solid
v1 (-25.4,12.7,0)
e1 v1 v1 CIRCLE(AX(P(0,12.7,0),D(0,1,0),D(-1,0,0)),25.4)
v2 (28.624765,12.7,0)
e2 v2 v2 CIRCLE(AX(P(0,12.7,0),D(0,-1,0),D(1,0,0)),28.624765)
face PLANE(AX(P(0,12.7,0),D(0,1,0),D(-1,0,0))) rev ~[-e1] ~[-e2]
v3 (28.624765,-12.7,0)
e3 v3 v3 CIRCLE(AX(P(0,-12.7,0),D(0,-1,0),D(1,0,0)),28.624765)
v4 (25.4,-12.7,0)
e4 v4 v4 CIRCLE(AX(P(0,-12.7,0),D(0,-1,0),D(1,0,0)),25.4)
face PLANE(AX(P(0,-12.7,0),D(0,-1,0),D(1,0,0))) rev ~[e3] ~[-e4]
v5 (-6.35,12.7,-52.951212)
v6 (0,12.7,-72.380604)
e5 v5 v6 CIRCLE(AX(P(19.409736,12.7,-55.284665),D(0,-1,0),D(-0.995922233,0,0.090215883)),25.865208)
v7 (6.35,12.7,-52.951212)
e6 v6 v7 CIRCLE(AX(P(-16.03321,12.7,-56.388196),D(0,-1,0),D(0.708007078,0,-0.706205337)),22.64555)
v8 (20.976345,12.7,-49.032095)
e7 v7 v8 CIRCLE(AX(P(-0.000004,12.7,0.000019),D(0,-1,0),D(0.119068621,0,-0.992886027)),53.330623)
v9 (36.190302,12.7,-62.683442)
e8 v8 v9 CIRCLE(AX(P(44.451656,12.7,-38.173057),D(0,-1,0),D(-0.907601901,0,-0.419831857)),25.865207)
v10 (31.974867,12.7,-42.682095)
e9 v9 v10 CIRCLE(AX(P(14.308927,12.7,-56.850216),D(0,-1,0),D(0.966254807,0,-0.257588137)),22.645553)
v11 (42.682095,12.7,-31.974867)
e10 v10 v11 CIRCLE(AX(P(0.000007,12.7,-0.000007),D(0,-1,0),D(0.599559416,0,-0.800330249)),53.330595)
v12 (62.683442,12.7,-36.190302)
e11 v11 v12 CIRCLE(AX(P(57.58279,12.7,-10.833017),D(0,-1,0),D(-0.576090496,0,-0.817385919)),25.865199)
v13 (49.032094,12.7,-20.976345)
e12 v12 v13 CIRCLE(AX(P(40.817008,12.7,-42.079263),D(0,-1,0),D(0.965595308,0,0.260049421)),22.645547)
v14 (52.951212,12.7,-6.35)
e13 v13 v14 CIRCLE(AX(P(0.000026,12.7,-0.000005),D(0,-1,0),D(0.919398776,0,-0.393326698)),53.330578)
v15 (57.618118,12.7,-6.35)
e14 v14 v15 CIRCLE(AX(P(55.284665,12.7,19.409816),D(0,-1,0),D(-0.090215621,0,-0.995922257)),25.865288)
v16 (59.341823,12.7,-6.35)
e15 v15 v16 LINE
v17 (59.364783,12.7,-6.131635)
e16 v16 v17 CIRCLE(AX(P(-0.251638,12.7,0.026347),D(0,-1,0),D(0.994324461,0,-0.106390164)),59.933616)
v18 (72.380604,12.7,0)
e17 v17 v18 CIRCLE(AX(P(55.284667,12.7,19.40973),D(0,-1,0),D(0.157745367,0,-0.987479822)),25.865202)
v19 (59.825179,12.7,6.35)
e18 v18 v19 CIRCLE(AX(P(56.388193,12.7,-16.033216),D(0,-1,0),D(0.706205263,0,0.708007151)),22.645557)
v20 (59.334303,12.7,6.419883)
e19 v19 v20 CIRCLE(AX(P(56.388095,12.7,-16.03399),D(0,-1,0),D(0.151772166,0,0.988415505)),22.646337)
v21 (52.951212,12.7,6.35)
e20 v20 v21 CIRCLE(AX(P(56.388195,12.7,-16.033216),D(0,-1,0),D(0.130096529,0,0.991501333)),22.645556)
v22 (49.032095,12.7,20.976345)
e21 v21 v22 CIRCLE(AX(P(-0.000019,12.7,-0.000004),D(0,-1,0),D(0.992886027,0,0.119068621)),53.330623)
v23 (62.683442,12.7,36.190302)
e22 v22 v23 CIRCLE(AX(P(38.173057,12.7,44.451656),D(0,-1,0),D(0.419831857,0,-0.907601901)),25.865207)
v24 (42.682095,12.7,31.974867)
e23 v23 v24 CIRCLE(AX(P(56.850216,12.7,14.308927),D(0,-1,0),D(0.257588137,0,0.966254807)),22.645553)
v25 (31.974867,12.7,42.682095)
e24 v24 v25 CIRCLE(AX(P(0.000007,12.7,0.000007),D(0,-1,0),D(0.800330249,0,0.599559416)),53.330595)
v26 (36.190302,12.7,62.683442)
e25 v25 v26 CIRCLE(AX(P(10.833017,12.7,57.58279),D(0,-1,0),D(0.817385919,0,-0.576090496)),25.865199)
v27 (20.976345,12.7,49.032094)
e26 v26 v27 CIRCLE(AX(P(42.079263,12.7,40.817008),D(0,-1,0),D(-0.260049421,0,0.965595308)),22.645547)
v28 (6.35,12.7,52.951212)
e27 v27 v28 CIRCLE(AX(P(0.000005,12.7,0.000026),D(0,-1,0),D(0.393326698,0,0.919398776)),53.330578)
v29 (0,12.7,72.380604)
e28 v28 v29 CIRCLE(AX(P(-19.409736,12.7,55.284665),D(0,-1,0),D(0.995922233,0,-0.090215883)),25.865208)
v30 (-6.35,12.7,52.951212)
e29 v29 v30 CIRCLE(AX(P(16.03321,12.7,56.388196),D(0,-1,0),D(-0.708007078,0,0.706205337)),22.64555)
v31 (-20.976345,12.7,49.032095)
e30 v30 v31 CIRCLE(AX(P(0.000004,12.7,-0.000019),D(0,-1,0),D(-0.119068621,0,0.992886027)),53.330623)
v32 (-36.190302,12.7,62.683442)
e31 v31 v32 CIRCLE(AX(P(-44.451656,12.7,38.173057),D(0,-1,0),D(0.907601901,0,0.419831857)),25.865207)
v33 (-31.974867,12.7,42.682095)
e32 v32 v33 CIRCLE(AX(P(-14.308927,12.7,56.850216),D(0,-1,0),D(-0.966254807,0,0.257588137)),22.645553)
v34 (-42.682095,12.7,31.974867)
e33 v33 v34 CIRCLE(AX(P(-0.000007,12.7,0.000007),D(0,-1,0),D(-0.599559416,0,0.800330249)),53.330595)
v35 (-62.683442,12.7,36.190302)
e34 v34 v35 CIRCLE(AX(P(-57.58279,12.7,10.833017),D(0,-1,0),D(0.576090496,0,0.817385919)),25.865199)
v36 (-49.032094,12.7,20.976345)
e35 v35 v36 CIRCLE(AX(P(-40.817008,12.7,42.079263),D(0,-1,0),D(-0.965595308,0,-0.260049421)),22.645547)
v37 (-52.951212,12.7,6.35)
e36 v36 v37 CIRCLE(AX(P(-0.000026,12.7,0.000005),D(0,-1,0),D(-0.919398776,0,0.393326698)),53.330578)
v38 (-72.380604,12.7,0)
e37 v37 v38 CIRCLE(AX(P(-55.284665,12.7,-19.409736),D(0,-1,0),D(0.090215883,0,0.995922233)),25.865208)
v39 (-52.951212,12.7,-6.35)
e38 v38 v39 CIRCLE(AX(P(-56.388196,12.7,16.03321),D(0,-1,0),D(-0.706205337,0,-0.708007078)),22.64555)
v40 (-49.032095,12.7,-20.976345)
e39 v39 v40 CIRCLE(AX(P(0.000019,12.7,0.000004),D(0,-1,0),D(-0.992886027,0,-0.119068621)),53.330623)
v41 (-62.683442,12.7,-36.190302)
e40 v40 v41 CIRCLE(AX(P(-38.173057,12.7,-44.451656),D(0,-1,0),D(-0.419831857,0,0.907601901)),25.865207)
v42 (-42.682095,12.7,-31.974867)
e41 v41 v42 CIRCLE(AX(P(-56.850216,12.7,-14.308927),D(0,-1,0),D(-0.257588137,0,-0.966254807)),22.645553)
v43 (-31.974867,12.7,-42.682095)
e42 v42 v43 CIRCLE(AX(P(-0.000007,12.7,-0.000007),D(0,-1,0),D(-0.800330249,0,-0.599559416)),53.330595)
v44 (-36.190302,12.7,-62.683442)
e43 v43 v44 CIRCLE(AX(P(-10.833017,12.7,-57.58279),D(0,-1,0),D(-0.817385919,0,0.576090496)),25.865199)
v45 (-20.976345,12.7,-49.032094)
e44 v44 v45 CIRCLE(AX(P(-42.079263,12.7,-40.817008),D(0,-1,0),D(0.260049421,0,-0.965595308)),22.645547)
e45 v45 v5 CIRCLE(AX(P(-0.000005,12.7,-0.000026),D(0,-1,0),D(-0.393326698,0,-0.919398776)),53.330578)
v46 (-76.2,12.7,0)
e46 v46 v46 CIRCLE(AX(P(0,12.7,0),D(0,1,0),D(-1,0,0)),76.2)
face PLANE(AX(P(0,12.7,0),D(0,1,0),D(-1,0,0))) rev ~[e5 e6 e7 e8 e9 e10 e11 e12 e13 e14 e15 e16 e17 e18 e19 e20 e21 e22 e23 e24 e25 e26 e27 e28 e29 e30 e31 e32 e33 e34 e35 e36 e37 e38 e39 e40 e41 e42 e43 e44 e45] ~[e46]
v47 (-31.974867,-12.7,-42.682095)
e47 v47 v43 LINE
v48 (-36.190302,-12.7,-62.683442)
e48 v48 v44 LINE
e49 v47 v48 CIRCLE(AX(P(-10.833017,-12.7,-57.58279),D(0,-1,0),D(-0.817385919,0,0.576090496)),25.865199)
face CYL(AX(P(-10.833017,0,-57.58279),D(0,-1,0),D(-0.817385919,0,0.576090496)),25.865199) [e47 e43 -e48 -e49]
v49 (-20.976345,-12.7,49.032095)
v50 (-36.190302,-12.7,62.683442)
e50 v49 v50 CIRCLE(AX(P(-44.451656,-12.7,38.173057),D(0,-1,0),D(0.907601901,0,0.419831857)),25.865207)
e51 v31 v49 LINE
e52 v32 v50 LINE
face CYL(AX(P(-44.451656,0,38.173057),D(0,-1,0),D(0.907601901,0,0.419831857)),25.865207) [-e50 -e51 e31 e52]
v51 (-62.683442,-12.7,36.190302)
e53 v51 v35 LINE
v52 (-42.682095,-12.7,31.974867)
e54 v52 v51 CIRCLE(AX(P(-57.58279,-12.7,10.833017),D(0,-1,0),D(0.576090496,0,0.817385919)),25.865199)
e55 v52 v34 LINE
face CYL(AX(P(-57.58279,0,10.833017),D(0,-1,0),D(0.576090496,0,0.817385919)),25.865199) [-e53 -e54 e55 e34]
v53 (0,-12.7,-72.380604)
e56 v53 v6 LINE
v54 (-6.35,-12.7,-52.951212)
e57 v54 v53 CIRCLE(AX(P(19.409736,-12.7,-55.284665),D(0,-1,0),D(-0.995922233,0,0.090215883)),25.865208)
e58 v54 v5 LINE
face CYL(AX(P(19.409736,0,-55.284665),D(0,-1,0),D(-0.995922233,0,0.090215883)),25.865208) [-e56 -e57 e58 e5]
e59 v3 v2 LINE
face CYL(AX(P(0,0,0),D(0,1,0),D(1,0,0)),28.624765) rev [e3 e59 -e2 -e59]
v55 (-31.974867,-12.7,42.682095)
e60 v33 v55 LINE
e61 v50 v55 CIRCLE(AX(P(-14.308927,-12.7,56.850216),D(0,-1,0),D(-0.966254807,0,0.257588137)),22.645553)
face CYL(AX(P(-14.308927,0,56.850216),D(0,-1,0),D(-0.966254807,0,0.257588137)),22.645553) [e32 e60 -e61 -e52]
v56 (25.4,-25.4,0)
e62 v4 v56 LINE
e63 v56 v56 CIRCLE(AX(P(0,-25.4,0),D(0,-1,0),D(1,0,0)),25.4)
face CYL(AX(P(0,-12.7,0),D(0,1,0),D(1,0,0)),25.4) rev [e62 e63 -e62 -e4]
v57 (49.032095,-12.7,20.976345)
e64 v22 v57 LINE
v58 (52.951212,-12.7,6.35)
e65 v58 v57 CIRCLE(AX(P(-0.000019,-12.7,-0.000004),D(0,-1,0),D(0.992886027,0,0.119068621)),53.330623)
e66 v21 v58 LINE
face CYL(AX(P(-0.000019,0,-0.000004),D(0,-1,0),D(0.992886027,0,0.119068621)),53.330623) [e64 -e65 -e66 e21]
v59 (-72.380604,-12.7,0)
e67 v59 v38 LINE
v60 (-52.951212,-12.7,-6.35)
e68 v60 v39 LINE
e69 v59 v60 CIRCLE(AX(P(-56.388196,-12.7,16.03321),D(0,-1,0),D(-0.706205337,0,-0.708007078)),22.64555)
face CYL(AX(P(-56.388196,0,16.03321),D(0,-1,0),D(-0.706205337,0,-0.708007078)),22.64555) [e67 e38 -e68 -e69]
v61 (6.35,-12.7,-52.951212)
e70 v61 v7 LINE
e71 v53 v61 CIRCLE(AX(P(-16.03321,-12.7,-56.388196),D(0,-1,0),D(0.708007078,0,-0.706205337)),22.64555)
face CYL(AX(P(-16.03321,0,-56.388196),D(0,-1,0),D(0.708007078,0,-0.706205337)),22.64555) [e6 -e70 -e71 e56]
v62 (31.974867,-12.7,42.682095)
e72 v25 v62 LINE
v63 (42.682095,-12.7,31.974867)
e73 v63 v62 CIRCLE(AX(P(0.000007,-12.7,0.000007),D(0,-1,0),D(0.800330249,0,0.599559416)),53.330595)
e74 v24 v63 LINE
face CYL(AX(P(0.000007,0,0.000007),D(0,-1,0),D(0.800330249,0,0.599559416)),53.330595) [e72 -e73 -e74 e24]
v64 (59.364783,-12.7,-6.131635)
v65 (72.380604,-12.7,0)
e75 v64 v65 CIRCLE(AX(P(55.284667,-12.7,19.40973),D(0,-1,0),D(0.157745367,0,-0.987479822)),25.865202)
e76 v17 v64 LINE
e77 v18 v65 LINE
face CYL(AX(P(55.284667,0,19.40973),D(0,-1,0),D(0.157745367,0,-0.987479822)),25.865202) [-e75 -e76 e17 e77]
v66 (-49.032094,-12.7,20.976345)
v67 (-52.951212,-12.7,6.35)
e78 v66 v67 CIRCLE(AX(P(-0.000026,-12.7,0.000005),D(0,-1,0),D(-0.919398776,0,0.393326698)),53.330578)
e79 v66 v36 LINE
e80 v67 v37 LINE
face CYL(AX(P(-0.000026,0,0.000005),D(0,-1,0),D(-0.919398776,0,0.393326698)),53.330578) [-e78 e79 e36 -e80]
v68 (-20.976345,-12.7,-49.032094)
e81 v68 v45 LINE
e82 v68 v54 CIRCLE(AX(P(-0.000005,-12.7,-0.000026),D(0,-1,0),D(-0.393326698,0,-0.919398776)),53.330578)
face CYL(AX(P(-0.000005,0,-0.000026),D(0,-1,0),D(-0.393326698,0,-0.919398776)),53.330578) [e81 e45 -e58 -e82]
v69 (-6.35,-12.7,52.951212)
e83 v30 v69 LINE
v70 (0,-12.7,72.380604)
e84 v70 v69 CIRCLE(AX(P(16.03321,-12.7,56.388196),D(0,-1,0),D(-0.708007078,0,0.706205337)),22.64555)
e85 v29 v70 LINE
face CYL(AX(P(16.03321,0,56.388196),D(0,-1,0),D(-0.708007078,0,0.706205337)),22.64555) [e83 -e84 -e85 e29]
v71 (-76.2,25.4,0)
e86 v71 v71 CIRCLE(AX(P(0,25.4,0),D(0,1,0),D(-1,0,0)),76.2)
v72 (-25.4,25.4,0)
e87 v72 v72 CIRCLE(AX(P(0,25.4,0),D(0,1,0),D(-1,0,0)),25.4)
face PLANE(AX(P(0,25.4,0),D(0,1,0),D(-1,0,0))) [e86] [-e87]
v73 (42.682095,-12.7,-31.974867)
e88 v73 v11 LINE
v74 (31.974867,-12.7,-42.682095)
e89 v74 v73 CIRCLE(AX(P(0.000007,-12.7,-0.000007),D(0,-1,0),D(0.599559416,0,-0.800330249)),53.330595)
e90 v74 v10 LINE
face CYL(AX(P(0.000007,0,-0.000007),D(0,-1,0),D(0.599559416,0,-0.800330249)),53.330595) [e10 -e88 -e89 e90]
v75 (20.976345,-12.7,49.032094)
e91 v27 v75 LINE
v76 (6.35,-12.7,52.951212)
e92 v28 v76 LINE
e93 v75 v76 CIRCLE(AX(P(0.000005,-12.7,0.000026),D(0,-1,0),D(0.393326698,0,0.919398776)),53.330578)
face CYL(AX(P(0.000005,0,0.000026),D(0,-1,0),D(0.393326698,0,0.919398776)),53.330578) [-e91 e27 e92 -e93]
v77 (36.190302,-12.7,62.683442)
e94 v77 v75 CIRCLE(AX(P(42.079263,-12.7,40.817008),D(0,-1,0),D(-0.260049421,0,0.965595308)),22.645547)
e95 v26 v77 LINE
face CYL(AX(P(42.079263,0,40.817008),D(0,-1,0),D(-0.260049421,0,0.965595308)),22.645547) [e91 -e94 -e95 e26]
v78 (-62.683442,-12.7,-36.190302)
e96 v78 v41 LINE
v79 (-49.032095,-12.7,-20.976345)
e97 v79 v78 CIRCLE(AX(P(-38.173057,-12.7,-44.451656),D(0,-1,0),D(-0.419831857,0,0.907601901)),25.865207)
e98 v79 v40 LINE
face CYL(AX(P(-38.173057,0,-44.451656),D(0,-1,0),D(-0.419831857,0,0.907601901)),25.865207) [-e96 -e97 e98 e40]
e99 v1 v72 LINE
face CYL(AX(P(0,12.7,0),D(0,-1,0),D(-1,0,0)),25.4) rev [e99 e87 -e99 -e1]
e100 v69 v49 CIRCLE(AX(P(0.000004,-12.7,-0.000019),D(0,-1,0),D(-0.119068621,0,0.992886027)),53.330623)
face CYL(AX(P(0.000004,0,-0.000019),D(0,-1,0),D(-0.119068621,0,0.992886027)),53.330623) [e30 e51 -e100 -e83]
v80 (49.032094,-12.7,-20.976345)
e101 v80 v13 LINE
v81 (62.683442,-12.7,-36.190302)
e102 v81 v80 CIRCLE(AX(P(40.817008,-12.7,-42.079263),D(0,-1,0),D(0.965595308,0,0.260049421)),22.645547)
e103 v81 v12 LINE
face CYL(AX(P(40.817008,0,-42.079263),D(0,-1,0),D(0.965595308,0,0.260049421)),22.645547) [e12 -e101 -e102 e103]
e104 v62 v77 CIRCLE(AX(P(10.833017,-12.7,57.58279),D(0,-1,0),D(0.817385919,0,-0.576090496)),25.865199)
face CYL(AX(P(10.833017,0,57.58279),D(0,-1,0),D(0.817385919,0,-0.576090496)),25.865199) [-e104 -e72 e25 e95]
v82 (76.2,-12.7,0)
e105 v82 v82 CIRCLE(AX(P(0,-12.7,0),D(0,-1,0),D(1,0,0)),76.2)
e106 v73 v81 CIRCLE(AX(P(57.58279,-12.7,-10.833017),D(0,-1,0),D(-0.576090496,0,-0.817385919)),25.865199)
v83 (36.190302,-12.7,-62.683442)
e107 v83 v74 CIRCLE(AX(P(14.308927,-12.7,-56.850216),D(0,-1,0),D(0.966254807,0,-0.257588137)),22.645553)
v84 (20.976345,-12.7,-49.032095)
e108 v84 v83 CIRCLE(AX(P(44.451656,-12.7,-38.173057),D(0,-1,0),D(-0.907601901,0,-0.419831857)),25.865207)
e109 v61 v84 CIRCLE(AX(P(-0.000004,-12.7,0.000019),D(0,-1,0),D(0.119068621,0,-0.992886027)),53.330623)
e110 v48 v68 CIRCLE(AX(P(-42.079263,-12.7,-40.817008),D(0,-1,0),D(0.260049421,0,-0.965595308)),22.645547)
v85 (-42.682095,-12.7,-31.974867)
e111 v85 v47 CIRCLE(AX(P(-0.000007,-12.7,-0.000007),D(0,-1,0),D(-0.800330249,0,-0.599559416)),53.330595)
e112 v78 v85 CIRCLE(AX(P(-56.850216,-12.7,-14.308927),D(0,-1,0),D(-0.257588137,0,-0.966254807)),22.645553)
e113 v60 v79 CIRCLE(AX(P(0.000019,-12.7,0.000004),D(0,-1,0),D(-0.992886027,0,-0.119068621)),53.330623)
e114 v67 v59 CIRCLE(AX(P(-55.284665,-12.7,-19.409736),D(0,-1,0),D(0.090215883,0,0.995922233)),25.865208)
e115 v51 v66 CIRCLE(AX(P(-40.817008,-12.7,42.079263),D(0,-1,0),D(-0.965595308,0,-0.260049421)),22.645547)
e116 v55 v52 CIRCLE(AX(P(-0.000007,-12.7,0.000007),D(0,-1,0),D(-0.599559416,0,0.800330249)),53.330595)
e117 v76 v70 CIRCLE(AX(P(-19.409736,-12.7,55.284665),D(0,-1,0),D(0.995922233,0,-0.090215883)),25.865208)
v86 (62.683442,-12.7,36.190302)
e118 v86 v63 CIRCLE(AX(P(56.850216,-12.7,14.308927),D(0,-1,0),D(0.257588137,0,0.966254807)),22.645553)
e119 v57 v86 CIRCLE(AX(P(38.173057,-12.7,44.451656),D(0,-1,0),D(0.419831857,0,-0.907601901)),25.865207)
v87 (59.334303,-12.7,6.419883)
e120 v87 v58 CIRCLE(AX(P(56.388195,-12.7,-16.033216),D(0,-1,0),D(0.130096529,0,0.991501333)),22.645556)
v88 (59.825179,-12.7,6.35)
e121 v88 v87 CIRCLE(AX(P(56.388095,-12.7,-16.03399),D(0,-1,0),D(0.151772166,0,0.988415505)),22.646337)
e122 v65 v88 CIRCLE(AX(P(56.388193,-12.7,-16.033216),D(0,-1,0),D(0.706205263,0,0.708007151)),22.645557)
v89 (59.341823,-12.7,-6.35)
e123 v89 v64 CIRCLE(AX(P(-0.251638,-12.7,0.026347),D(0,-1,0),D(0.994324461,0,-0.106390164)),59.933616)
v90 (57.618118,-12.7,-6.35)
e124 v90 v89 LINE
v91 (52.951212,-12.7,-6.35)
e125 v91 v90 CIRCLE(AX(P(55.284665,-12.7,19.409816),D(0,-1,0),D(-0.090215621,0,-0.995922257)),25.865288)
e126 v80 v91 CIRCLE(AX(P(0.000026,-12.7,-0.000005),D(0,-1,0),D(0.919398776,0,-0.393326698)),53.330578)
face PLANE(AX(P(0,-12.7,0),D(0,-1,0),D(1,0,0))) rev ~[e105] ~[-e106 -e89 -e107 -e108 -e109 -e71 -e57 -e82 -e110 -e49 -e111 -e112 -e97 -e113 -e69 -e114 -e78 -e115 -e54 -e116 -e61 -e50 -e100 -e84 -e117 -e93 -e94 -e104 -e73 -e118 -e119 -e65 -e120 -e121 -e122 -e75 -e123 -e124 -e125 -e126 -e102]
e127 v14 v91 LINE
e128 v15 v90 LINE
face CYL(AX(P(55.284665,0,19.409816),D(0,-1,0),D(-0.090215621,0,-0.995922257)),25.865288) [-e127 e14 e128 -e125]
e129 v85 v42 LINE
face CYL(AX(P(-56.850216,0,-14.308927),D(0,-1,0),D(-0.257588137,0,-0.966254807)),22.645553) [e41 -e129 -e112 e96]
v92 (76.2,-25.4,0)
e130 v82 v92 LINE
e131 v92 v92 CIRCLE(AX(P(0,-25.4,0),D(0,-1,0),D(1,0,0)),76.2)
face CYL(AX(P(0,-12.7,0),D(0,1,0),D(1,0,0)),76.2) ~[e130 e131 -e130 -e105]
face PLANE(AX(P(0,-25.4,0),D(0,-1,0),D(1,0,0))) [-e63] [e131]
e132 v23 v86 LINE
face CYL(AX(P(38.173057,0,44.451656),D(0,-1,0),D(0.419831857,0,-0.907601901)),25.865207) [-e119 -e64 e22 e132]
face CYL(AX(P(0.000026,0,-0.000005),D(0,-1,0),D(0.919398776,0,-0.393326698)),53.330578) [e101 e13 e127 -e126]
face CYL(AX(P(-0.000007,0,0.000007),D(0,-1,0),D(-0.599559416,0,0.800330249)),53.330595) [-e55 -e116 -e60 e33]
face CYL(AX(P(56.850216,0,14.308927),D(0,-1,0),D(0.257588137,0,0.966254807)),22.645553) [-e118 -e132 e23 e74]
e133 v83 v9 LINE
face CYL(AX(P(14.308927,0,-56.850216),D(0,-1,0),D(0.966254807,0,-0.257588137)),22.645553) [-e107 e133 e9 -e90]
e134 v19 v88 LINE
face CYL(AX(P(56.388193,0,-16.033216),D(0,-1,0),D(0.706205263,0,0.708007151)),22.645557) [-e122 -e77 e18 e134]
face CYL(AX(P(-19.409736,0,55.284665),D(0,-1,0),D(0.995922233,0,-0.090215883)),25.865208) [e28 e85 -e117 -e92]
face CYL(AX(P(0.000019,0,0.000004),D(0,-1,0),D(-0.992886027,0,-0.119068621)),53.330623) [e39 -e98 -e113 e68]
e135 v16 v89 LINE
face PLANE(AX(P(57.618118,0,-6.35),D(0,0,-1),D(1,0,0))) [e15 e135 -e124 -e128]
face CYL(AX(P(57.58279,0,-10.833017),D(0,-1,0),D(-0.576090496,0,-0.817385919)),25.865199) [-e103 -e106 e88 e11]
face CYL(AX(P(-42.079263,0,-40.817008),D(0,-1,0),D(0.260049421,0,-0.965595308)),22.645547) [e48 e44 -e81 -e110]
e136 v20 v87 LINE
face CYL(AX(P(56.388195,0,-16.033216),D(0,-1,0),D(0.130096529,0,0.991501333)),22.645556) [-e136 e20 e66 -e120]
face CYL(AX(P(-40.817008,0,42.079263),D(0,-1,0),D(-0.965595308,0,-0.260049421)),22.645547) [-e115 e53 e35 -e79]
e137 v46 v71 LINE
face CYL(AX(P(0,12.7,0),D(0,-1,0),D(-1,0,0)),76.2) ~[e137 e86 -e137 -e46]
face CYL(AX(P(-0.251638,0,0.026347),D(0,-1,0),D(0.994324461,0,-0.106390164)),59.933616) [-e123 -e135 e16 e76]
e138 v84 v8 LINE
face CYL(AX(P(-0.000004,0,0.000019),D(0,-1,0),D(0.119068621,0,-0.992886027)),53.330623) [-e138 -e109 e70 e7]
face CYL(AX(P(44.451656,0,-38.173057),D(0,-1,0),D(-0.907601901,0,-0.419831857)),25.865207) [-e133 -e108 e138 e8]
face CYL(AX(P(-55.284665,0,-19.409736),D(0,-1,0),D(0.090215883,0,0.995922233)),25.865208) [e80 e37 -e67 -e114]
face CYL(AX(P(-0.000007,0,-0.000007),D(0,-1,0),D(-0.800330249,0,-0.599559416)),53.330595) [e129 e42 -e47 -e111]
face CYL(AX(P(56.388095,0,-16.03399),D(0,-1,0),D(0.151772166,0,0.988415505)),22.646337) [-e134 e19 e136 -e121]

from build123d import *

# Parameters (mm, degrees)
F0_R     = 44.222485
F0_R_2   = 28.624765
F1_DEPTH = 12.7
F2_R     = 76.2
F2_R_2   = 25.4
F3_DEPTH = 12.7
F4_R     = 76.2
F4_R_2   = 25.4
F5_DEPTH = 12.7


with BuildPart() as f1:
    # F0 (on Front) → F1 (new body, symmetric)
    with BuildSketch(Plane.XZ):
        with BuildLine():
            ThreePointArc((52.951212, -6.35), (53.235671, -3.180662), (53.330604, 0))
            ThreePointArc((53.330604, 0), (53.235671, 3.180662), (52.951212, 6.35))
            ThreePointArc((52.951212, 6.35), (51.513408, 13.802976), (49.032095, 20.976345))
            ThreePointArc((49.032095, 20.976345), (46.185658, 26.665302), (42.682095, 31.974867))
            ThreePointArc((42.682095, 31.974867), (37.710432, 37.710432), (31.974867, 42.682095))
            ThreePointArc((31.974867, 42.682095), (26.665302, 46.185658), (20.976345, 49.032094))
            ThreePointArc((20.976345, 49.032094), (13.802976, 51.513408), (6.35, 52.951212))
            ThreePointArc((6.35, 52.951212), (0, 53.330604), (-6.35, 52.951212))
            ThreePointArc((-6.35, 52.951212), (-13.802976, 51.513408), (-20.976345, 49.032095))
            ThreePointArc((-20.976345, 49.032095), (-26.665302, 46.185658), (-31.974867, 42.682095))
            ThreePointArc((-31.974867, 42.682095), (-37.710432, 37.710432), (-42.682095, 31.974867))
            ThreePointArc((-42.682095, 31.974867), (-46.185658, 26.665302), (-49.032094, 20.976345))
            ThreePointArc((-49.032094, 20.976345), (-51.513408, 13.802976), (-52.951212, 6.35))
            ThreePointArc((-52.951212, 6.35), (-53.330604, 0), (-52.951212, -6.35))
            ThreePointArc((-52.951212, -6.35), (-51.513408, -13.802976), (-49.032095, -20.976345))
            ThreePointArc((-49.032095, -20.976345), (-46.185658, -26.665302), (-42.682095, -31.974867))
            ThreePointArc((-42.682095, -31.974867), (-37.710432, -37.710432), (-31.974867, -42.682095))
            ThreePointArc((-31.974867, -42.682095), (-26.665302, -46.185658), (-20.976345, -49.032094))
            ThreePointArc((-20.976345, -49.032094), (-13.802976, -51.513408), (-6.35, -52.951212))
            ThreePointArc((-6.35, -52.951212), (0, -53.330604), (6.35, -52.951212))
            ThreePointArc((6.35, -52.951212), (13.802976, -51.513408), (20.976345, -49.032095))
            ThreePointArc((20.976345, -49.032095), (26.665302, -46.185658), (31.974867, -42.682095))
            ThreePointArc((31.974867, -42.682095), (37.710432, -37.710432), (42.682095, -31.974867))
            ThreePointArc((42.682095, -31.974867), (46.185658, -26.665302), (49.032094, -20.976345))
            ThreePointArc((49.032094, -20.976345), (51.513408, -13.802976), (52.951212, -6.35))
        make_face()
        Circle(F0_R, mode=Mode.SUBTRACT)
        with BuildLine():
            Line((72.380604, 0), (53.330604, 0))
            ThreePointArc((53.330604, 0), (53.235671, -3.180662), (52.951212, -6.35))
            Line((52.951212, -6.35), (57.618118, -6.35))
            ThreePointArc((57.618118, -6.35), (58.493309, -6.255681), (59.364783, -6.131635))
            ThreePointArc((59.364783, -6.131635), (66.307622, -3.989055), (72.380604, 0))
        make_face()
        with BuildLine():
            ThreePointArc((52.951212, 6.35), (53.235671, 3.180662), (53.330604, 0))
            Line((53.330604, 0), (72.380604, 0))
            ThreePointArc((72.380604, 0), (66.608564, 4.174833), (59.825179, 6.35))
            Line((59.825179, 6.35), (59.341823, 6.35))
            ThreePointArc((59.341823, 6.35), (59.338073, 6.384943), (59.334303, 6.419883))
            ThreePointArc((59.334303, 6.419883), (56.140283, 6.610983), (52.951212, 6.35))
        make_face()
        with BuildLine():
            Line((57.618118, -6.35), (52.951212, -6.35))
            ThreePointArc((52.951212, -6.35), (55.284665, -6.455472), (57.618118, -6.35))
        make_face()
        with BuildLine():
            ThreePointArc((42.682095, 31.974867), (46.185658, 26.665302), (49.032095, 20.976345))
            ThreePointArc((49.032095, 20.976345), (57.424424, 27.177577), (62.683442, 36.190302))
            ThreePointArc((62.683442, 36.190302), (52.180088, 36.467695), (42.682095, 31.974867))
        make_face()
        with BuildLine():
            ThreePointArc((59.825179, 6.35), (59.579932, 6.386285), (59.334303, 6.419883))
            ThreePointArc((59.334303, 6.419883), (59.338073, 6.384943), (59.341823, 6.35))
            Line((59.341823, 6.35), (59.825179, 6.35))
        make_face()
        with BuildLine():
            ThreePointArc((62.683442, -36.190302), (57.671995, -26.955434), (49.032094, -20.976345))
            ThreePointArc((49.032094, -20.976345), (46.185658, -26.665302), (42.682095, -31.974867))
            ThreePointArc((42.682095, -31.974867), (52.248684, -36.142222), (62.683442, -36.190302))
        make_face()
        with BuildLine():
            ThreePointArc((59.364783, -6.131635), (58.493309, -6.255681), (57.618118, -6.35))
            Line((57.618118, -6.35), (59.341823, -6.35))
            ThreePointArc((59.341823, -6.35), (59.353403, -6.240828), (59.364783, -6.131635))
        make_face()
        with BuildLine():
            ThreePointArc((20.976345, 49.032094), (26.665302, 46.185658), (31.974867, 42.682095))
            ThreePointArc((31.974867, 42.682095), (36.142222, 52.248684), (36.190302, 62.683442))
            ThreePointArc((36.190302, 62.683442), (26.955434, 57.671995), (20.976345, 49.032094))
        make_face()
        with BuildLine():
            ThreePointArc((36.190302, -62.683442), (36.467695, -52.180088), (31.974867, -42.682095))
            ThreePointArc((31.974867, -42.682095), (26.665302, -46.185658), (20.976345, -49.032095))
            ThreePointArc((20.976345, -49.032095), (27.177577, -57.424424), (36.190302, -62.683442))
        make_face()
        with BuildLine():
            ThreePointArc((-6.35, 52.951212), (0, 53.330604), (6.35, 52.951212))
            ThreePointArc((6.35, 52.951212), (5.17574, 63.319798), (0, 72.380604))
            ThreePointArc((0, 72.380604), (-5.491907, 63.423129), (-6.35, 52.951212))
        make_face()
        with BuildLine():
            ThreePointArc((0, -72.380604), (5.491907, -63.423129), (6.35, -52.951212))
            ThreePointArc((6.35, -52.951212), (0, -53.330604), (-6.35, -52.951212))
            ThreePointArc((-6.35, -52.951212), (-5.17574, -63.319798), (0, -72.380604))
        make_face()
        with BuildLine():
            ThreePointArc((-31.974867, 42.682095), (-26.665302, 46.185658), (-20.976345, 49.032095))
            ThreePointArc((-20.976345, 49.032095), (-27.177577, 57.424424), (-36.190302, 62.683442))
            ThreePointArc((-36.190302, 62.683442), (-36.467695, 52.180088), (-31.974867, 42.682095))
        make_face()
        with BuildLine():
            ThreePointArc((-36.190302, -62.683442), (-26.955434, -57.671995), (-20.976345, -49.032094))
            ThreePointArc((-20.976345, -49.032094), (-26.665302, -46.185658), (-31.974867, -42.682095))
            ThreePointArc((-31.974867, -42.682095), (-36.142222, -52.248684), (-36.190302, -62.683442))
        make_face()
        with BuildLine():
            ThreePointArc((-49.032094, 20.976345), (-46.185658, 26.665302), (-42.682095, 31.974867))
            ThreePointArc((-42.682095, 31.974867), (-52.248684, 36.142222), (-62.683442, 36.190302))
            ThreePointArc((-62.683442, 36.190302), (-57.671995, 26.955434), (-49.032094, 20.976345))
        make_face()
        with BuildLine():
            ThreePointArc((-62.683442, -36.190302), (-52.180088, -36.467695), (-42.682095, -31.974867))
            ThreePointArc((-42.682095, -31.974867), (-46.185658, -26.665302), (-49.032095, -20.976345))
            ThreePointArc((-49.032095, -20.976345), (-57.424424, -27.177577), (-62.683442, -36.190302))
        make_face()
        with BuildLine():
            ThreePointArc((-52.951212, -6.35), (-53.330604, 0), (-52.951212, 6.35))
            ThreePointArc((-52.951212, 6.35), (-63.319798, 5.17574), (-72.380604, 0))
            ThreePointArc((-72.380604, 0), (-63.423129, -5.491907), (-52.951212, -6.35))
        make_face()
        Circle(F0_R)
        Circle(F0_R_2, mode=Mode.SUBTRACT)
    extrude(amount=F1_DEPTH, both=True)

    # F2 (on face) → F3 (join)
    with BuildSketch(Plane.XZ.offset(12.7)):
        Circle(F2_R)
        Circle(F2_R_2, mode=Mode.SUBTRACT)
    extrude(amount=F3_DEPTH)

    # F4 (on face) → F5 (join)
    with BuildSketch(Plane(origin=(0, 12.7, 0), x_dir=(-1, 0, 0), z_dir=(0, 1, 0))):
        Circle(F4_R)
        Circle(F4_R_2, mode=Mode.SUBTRACT)
    extrude(amount=F5_DEPTH)


solid = f1.part
